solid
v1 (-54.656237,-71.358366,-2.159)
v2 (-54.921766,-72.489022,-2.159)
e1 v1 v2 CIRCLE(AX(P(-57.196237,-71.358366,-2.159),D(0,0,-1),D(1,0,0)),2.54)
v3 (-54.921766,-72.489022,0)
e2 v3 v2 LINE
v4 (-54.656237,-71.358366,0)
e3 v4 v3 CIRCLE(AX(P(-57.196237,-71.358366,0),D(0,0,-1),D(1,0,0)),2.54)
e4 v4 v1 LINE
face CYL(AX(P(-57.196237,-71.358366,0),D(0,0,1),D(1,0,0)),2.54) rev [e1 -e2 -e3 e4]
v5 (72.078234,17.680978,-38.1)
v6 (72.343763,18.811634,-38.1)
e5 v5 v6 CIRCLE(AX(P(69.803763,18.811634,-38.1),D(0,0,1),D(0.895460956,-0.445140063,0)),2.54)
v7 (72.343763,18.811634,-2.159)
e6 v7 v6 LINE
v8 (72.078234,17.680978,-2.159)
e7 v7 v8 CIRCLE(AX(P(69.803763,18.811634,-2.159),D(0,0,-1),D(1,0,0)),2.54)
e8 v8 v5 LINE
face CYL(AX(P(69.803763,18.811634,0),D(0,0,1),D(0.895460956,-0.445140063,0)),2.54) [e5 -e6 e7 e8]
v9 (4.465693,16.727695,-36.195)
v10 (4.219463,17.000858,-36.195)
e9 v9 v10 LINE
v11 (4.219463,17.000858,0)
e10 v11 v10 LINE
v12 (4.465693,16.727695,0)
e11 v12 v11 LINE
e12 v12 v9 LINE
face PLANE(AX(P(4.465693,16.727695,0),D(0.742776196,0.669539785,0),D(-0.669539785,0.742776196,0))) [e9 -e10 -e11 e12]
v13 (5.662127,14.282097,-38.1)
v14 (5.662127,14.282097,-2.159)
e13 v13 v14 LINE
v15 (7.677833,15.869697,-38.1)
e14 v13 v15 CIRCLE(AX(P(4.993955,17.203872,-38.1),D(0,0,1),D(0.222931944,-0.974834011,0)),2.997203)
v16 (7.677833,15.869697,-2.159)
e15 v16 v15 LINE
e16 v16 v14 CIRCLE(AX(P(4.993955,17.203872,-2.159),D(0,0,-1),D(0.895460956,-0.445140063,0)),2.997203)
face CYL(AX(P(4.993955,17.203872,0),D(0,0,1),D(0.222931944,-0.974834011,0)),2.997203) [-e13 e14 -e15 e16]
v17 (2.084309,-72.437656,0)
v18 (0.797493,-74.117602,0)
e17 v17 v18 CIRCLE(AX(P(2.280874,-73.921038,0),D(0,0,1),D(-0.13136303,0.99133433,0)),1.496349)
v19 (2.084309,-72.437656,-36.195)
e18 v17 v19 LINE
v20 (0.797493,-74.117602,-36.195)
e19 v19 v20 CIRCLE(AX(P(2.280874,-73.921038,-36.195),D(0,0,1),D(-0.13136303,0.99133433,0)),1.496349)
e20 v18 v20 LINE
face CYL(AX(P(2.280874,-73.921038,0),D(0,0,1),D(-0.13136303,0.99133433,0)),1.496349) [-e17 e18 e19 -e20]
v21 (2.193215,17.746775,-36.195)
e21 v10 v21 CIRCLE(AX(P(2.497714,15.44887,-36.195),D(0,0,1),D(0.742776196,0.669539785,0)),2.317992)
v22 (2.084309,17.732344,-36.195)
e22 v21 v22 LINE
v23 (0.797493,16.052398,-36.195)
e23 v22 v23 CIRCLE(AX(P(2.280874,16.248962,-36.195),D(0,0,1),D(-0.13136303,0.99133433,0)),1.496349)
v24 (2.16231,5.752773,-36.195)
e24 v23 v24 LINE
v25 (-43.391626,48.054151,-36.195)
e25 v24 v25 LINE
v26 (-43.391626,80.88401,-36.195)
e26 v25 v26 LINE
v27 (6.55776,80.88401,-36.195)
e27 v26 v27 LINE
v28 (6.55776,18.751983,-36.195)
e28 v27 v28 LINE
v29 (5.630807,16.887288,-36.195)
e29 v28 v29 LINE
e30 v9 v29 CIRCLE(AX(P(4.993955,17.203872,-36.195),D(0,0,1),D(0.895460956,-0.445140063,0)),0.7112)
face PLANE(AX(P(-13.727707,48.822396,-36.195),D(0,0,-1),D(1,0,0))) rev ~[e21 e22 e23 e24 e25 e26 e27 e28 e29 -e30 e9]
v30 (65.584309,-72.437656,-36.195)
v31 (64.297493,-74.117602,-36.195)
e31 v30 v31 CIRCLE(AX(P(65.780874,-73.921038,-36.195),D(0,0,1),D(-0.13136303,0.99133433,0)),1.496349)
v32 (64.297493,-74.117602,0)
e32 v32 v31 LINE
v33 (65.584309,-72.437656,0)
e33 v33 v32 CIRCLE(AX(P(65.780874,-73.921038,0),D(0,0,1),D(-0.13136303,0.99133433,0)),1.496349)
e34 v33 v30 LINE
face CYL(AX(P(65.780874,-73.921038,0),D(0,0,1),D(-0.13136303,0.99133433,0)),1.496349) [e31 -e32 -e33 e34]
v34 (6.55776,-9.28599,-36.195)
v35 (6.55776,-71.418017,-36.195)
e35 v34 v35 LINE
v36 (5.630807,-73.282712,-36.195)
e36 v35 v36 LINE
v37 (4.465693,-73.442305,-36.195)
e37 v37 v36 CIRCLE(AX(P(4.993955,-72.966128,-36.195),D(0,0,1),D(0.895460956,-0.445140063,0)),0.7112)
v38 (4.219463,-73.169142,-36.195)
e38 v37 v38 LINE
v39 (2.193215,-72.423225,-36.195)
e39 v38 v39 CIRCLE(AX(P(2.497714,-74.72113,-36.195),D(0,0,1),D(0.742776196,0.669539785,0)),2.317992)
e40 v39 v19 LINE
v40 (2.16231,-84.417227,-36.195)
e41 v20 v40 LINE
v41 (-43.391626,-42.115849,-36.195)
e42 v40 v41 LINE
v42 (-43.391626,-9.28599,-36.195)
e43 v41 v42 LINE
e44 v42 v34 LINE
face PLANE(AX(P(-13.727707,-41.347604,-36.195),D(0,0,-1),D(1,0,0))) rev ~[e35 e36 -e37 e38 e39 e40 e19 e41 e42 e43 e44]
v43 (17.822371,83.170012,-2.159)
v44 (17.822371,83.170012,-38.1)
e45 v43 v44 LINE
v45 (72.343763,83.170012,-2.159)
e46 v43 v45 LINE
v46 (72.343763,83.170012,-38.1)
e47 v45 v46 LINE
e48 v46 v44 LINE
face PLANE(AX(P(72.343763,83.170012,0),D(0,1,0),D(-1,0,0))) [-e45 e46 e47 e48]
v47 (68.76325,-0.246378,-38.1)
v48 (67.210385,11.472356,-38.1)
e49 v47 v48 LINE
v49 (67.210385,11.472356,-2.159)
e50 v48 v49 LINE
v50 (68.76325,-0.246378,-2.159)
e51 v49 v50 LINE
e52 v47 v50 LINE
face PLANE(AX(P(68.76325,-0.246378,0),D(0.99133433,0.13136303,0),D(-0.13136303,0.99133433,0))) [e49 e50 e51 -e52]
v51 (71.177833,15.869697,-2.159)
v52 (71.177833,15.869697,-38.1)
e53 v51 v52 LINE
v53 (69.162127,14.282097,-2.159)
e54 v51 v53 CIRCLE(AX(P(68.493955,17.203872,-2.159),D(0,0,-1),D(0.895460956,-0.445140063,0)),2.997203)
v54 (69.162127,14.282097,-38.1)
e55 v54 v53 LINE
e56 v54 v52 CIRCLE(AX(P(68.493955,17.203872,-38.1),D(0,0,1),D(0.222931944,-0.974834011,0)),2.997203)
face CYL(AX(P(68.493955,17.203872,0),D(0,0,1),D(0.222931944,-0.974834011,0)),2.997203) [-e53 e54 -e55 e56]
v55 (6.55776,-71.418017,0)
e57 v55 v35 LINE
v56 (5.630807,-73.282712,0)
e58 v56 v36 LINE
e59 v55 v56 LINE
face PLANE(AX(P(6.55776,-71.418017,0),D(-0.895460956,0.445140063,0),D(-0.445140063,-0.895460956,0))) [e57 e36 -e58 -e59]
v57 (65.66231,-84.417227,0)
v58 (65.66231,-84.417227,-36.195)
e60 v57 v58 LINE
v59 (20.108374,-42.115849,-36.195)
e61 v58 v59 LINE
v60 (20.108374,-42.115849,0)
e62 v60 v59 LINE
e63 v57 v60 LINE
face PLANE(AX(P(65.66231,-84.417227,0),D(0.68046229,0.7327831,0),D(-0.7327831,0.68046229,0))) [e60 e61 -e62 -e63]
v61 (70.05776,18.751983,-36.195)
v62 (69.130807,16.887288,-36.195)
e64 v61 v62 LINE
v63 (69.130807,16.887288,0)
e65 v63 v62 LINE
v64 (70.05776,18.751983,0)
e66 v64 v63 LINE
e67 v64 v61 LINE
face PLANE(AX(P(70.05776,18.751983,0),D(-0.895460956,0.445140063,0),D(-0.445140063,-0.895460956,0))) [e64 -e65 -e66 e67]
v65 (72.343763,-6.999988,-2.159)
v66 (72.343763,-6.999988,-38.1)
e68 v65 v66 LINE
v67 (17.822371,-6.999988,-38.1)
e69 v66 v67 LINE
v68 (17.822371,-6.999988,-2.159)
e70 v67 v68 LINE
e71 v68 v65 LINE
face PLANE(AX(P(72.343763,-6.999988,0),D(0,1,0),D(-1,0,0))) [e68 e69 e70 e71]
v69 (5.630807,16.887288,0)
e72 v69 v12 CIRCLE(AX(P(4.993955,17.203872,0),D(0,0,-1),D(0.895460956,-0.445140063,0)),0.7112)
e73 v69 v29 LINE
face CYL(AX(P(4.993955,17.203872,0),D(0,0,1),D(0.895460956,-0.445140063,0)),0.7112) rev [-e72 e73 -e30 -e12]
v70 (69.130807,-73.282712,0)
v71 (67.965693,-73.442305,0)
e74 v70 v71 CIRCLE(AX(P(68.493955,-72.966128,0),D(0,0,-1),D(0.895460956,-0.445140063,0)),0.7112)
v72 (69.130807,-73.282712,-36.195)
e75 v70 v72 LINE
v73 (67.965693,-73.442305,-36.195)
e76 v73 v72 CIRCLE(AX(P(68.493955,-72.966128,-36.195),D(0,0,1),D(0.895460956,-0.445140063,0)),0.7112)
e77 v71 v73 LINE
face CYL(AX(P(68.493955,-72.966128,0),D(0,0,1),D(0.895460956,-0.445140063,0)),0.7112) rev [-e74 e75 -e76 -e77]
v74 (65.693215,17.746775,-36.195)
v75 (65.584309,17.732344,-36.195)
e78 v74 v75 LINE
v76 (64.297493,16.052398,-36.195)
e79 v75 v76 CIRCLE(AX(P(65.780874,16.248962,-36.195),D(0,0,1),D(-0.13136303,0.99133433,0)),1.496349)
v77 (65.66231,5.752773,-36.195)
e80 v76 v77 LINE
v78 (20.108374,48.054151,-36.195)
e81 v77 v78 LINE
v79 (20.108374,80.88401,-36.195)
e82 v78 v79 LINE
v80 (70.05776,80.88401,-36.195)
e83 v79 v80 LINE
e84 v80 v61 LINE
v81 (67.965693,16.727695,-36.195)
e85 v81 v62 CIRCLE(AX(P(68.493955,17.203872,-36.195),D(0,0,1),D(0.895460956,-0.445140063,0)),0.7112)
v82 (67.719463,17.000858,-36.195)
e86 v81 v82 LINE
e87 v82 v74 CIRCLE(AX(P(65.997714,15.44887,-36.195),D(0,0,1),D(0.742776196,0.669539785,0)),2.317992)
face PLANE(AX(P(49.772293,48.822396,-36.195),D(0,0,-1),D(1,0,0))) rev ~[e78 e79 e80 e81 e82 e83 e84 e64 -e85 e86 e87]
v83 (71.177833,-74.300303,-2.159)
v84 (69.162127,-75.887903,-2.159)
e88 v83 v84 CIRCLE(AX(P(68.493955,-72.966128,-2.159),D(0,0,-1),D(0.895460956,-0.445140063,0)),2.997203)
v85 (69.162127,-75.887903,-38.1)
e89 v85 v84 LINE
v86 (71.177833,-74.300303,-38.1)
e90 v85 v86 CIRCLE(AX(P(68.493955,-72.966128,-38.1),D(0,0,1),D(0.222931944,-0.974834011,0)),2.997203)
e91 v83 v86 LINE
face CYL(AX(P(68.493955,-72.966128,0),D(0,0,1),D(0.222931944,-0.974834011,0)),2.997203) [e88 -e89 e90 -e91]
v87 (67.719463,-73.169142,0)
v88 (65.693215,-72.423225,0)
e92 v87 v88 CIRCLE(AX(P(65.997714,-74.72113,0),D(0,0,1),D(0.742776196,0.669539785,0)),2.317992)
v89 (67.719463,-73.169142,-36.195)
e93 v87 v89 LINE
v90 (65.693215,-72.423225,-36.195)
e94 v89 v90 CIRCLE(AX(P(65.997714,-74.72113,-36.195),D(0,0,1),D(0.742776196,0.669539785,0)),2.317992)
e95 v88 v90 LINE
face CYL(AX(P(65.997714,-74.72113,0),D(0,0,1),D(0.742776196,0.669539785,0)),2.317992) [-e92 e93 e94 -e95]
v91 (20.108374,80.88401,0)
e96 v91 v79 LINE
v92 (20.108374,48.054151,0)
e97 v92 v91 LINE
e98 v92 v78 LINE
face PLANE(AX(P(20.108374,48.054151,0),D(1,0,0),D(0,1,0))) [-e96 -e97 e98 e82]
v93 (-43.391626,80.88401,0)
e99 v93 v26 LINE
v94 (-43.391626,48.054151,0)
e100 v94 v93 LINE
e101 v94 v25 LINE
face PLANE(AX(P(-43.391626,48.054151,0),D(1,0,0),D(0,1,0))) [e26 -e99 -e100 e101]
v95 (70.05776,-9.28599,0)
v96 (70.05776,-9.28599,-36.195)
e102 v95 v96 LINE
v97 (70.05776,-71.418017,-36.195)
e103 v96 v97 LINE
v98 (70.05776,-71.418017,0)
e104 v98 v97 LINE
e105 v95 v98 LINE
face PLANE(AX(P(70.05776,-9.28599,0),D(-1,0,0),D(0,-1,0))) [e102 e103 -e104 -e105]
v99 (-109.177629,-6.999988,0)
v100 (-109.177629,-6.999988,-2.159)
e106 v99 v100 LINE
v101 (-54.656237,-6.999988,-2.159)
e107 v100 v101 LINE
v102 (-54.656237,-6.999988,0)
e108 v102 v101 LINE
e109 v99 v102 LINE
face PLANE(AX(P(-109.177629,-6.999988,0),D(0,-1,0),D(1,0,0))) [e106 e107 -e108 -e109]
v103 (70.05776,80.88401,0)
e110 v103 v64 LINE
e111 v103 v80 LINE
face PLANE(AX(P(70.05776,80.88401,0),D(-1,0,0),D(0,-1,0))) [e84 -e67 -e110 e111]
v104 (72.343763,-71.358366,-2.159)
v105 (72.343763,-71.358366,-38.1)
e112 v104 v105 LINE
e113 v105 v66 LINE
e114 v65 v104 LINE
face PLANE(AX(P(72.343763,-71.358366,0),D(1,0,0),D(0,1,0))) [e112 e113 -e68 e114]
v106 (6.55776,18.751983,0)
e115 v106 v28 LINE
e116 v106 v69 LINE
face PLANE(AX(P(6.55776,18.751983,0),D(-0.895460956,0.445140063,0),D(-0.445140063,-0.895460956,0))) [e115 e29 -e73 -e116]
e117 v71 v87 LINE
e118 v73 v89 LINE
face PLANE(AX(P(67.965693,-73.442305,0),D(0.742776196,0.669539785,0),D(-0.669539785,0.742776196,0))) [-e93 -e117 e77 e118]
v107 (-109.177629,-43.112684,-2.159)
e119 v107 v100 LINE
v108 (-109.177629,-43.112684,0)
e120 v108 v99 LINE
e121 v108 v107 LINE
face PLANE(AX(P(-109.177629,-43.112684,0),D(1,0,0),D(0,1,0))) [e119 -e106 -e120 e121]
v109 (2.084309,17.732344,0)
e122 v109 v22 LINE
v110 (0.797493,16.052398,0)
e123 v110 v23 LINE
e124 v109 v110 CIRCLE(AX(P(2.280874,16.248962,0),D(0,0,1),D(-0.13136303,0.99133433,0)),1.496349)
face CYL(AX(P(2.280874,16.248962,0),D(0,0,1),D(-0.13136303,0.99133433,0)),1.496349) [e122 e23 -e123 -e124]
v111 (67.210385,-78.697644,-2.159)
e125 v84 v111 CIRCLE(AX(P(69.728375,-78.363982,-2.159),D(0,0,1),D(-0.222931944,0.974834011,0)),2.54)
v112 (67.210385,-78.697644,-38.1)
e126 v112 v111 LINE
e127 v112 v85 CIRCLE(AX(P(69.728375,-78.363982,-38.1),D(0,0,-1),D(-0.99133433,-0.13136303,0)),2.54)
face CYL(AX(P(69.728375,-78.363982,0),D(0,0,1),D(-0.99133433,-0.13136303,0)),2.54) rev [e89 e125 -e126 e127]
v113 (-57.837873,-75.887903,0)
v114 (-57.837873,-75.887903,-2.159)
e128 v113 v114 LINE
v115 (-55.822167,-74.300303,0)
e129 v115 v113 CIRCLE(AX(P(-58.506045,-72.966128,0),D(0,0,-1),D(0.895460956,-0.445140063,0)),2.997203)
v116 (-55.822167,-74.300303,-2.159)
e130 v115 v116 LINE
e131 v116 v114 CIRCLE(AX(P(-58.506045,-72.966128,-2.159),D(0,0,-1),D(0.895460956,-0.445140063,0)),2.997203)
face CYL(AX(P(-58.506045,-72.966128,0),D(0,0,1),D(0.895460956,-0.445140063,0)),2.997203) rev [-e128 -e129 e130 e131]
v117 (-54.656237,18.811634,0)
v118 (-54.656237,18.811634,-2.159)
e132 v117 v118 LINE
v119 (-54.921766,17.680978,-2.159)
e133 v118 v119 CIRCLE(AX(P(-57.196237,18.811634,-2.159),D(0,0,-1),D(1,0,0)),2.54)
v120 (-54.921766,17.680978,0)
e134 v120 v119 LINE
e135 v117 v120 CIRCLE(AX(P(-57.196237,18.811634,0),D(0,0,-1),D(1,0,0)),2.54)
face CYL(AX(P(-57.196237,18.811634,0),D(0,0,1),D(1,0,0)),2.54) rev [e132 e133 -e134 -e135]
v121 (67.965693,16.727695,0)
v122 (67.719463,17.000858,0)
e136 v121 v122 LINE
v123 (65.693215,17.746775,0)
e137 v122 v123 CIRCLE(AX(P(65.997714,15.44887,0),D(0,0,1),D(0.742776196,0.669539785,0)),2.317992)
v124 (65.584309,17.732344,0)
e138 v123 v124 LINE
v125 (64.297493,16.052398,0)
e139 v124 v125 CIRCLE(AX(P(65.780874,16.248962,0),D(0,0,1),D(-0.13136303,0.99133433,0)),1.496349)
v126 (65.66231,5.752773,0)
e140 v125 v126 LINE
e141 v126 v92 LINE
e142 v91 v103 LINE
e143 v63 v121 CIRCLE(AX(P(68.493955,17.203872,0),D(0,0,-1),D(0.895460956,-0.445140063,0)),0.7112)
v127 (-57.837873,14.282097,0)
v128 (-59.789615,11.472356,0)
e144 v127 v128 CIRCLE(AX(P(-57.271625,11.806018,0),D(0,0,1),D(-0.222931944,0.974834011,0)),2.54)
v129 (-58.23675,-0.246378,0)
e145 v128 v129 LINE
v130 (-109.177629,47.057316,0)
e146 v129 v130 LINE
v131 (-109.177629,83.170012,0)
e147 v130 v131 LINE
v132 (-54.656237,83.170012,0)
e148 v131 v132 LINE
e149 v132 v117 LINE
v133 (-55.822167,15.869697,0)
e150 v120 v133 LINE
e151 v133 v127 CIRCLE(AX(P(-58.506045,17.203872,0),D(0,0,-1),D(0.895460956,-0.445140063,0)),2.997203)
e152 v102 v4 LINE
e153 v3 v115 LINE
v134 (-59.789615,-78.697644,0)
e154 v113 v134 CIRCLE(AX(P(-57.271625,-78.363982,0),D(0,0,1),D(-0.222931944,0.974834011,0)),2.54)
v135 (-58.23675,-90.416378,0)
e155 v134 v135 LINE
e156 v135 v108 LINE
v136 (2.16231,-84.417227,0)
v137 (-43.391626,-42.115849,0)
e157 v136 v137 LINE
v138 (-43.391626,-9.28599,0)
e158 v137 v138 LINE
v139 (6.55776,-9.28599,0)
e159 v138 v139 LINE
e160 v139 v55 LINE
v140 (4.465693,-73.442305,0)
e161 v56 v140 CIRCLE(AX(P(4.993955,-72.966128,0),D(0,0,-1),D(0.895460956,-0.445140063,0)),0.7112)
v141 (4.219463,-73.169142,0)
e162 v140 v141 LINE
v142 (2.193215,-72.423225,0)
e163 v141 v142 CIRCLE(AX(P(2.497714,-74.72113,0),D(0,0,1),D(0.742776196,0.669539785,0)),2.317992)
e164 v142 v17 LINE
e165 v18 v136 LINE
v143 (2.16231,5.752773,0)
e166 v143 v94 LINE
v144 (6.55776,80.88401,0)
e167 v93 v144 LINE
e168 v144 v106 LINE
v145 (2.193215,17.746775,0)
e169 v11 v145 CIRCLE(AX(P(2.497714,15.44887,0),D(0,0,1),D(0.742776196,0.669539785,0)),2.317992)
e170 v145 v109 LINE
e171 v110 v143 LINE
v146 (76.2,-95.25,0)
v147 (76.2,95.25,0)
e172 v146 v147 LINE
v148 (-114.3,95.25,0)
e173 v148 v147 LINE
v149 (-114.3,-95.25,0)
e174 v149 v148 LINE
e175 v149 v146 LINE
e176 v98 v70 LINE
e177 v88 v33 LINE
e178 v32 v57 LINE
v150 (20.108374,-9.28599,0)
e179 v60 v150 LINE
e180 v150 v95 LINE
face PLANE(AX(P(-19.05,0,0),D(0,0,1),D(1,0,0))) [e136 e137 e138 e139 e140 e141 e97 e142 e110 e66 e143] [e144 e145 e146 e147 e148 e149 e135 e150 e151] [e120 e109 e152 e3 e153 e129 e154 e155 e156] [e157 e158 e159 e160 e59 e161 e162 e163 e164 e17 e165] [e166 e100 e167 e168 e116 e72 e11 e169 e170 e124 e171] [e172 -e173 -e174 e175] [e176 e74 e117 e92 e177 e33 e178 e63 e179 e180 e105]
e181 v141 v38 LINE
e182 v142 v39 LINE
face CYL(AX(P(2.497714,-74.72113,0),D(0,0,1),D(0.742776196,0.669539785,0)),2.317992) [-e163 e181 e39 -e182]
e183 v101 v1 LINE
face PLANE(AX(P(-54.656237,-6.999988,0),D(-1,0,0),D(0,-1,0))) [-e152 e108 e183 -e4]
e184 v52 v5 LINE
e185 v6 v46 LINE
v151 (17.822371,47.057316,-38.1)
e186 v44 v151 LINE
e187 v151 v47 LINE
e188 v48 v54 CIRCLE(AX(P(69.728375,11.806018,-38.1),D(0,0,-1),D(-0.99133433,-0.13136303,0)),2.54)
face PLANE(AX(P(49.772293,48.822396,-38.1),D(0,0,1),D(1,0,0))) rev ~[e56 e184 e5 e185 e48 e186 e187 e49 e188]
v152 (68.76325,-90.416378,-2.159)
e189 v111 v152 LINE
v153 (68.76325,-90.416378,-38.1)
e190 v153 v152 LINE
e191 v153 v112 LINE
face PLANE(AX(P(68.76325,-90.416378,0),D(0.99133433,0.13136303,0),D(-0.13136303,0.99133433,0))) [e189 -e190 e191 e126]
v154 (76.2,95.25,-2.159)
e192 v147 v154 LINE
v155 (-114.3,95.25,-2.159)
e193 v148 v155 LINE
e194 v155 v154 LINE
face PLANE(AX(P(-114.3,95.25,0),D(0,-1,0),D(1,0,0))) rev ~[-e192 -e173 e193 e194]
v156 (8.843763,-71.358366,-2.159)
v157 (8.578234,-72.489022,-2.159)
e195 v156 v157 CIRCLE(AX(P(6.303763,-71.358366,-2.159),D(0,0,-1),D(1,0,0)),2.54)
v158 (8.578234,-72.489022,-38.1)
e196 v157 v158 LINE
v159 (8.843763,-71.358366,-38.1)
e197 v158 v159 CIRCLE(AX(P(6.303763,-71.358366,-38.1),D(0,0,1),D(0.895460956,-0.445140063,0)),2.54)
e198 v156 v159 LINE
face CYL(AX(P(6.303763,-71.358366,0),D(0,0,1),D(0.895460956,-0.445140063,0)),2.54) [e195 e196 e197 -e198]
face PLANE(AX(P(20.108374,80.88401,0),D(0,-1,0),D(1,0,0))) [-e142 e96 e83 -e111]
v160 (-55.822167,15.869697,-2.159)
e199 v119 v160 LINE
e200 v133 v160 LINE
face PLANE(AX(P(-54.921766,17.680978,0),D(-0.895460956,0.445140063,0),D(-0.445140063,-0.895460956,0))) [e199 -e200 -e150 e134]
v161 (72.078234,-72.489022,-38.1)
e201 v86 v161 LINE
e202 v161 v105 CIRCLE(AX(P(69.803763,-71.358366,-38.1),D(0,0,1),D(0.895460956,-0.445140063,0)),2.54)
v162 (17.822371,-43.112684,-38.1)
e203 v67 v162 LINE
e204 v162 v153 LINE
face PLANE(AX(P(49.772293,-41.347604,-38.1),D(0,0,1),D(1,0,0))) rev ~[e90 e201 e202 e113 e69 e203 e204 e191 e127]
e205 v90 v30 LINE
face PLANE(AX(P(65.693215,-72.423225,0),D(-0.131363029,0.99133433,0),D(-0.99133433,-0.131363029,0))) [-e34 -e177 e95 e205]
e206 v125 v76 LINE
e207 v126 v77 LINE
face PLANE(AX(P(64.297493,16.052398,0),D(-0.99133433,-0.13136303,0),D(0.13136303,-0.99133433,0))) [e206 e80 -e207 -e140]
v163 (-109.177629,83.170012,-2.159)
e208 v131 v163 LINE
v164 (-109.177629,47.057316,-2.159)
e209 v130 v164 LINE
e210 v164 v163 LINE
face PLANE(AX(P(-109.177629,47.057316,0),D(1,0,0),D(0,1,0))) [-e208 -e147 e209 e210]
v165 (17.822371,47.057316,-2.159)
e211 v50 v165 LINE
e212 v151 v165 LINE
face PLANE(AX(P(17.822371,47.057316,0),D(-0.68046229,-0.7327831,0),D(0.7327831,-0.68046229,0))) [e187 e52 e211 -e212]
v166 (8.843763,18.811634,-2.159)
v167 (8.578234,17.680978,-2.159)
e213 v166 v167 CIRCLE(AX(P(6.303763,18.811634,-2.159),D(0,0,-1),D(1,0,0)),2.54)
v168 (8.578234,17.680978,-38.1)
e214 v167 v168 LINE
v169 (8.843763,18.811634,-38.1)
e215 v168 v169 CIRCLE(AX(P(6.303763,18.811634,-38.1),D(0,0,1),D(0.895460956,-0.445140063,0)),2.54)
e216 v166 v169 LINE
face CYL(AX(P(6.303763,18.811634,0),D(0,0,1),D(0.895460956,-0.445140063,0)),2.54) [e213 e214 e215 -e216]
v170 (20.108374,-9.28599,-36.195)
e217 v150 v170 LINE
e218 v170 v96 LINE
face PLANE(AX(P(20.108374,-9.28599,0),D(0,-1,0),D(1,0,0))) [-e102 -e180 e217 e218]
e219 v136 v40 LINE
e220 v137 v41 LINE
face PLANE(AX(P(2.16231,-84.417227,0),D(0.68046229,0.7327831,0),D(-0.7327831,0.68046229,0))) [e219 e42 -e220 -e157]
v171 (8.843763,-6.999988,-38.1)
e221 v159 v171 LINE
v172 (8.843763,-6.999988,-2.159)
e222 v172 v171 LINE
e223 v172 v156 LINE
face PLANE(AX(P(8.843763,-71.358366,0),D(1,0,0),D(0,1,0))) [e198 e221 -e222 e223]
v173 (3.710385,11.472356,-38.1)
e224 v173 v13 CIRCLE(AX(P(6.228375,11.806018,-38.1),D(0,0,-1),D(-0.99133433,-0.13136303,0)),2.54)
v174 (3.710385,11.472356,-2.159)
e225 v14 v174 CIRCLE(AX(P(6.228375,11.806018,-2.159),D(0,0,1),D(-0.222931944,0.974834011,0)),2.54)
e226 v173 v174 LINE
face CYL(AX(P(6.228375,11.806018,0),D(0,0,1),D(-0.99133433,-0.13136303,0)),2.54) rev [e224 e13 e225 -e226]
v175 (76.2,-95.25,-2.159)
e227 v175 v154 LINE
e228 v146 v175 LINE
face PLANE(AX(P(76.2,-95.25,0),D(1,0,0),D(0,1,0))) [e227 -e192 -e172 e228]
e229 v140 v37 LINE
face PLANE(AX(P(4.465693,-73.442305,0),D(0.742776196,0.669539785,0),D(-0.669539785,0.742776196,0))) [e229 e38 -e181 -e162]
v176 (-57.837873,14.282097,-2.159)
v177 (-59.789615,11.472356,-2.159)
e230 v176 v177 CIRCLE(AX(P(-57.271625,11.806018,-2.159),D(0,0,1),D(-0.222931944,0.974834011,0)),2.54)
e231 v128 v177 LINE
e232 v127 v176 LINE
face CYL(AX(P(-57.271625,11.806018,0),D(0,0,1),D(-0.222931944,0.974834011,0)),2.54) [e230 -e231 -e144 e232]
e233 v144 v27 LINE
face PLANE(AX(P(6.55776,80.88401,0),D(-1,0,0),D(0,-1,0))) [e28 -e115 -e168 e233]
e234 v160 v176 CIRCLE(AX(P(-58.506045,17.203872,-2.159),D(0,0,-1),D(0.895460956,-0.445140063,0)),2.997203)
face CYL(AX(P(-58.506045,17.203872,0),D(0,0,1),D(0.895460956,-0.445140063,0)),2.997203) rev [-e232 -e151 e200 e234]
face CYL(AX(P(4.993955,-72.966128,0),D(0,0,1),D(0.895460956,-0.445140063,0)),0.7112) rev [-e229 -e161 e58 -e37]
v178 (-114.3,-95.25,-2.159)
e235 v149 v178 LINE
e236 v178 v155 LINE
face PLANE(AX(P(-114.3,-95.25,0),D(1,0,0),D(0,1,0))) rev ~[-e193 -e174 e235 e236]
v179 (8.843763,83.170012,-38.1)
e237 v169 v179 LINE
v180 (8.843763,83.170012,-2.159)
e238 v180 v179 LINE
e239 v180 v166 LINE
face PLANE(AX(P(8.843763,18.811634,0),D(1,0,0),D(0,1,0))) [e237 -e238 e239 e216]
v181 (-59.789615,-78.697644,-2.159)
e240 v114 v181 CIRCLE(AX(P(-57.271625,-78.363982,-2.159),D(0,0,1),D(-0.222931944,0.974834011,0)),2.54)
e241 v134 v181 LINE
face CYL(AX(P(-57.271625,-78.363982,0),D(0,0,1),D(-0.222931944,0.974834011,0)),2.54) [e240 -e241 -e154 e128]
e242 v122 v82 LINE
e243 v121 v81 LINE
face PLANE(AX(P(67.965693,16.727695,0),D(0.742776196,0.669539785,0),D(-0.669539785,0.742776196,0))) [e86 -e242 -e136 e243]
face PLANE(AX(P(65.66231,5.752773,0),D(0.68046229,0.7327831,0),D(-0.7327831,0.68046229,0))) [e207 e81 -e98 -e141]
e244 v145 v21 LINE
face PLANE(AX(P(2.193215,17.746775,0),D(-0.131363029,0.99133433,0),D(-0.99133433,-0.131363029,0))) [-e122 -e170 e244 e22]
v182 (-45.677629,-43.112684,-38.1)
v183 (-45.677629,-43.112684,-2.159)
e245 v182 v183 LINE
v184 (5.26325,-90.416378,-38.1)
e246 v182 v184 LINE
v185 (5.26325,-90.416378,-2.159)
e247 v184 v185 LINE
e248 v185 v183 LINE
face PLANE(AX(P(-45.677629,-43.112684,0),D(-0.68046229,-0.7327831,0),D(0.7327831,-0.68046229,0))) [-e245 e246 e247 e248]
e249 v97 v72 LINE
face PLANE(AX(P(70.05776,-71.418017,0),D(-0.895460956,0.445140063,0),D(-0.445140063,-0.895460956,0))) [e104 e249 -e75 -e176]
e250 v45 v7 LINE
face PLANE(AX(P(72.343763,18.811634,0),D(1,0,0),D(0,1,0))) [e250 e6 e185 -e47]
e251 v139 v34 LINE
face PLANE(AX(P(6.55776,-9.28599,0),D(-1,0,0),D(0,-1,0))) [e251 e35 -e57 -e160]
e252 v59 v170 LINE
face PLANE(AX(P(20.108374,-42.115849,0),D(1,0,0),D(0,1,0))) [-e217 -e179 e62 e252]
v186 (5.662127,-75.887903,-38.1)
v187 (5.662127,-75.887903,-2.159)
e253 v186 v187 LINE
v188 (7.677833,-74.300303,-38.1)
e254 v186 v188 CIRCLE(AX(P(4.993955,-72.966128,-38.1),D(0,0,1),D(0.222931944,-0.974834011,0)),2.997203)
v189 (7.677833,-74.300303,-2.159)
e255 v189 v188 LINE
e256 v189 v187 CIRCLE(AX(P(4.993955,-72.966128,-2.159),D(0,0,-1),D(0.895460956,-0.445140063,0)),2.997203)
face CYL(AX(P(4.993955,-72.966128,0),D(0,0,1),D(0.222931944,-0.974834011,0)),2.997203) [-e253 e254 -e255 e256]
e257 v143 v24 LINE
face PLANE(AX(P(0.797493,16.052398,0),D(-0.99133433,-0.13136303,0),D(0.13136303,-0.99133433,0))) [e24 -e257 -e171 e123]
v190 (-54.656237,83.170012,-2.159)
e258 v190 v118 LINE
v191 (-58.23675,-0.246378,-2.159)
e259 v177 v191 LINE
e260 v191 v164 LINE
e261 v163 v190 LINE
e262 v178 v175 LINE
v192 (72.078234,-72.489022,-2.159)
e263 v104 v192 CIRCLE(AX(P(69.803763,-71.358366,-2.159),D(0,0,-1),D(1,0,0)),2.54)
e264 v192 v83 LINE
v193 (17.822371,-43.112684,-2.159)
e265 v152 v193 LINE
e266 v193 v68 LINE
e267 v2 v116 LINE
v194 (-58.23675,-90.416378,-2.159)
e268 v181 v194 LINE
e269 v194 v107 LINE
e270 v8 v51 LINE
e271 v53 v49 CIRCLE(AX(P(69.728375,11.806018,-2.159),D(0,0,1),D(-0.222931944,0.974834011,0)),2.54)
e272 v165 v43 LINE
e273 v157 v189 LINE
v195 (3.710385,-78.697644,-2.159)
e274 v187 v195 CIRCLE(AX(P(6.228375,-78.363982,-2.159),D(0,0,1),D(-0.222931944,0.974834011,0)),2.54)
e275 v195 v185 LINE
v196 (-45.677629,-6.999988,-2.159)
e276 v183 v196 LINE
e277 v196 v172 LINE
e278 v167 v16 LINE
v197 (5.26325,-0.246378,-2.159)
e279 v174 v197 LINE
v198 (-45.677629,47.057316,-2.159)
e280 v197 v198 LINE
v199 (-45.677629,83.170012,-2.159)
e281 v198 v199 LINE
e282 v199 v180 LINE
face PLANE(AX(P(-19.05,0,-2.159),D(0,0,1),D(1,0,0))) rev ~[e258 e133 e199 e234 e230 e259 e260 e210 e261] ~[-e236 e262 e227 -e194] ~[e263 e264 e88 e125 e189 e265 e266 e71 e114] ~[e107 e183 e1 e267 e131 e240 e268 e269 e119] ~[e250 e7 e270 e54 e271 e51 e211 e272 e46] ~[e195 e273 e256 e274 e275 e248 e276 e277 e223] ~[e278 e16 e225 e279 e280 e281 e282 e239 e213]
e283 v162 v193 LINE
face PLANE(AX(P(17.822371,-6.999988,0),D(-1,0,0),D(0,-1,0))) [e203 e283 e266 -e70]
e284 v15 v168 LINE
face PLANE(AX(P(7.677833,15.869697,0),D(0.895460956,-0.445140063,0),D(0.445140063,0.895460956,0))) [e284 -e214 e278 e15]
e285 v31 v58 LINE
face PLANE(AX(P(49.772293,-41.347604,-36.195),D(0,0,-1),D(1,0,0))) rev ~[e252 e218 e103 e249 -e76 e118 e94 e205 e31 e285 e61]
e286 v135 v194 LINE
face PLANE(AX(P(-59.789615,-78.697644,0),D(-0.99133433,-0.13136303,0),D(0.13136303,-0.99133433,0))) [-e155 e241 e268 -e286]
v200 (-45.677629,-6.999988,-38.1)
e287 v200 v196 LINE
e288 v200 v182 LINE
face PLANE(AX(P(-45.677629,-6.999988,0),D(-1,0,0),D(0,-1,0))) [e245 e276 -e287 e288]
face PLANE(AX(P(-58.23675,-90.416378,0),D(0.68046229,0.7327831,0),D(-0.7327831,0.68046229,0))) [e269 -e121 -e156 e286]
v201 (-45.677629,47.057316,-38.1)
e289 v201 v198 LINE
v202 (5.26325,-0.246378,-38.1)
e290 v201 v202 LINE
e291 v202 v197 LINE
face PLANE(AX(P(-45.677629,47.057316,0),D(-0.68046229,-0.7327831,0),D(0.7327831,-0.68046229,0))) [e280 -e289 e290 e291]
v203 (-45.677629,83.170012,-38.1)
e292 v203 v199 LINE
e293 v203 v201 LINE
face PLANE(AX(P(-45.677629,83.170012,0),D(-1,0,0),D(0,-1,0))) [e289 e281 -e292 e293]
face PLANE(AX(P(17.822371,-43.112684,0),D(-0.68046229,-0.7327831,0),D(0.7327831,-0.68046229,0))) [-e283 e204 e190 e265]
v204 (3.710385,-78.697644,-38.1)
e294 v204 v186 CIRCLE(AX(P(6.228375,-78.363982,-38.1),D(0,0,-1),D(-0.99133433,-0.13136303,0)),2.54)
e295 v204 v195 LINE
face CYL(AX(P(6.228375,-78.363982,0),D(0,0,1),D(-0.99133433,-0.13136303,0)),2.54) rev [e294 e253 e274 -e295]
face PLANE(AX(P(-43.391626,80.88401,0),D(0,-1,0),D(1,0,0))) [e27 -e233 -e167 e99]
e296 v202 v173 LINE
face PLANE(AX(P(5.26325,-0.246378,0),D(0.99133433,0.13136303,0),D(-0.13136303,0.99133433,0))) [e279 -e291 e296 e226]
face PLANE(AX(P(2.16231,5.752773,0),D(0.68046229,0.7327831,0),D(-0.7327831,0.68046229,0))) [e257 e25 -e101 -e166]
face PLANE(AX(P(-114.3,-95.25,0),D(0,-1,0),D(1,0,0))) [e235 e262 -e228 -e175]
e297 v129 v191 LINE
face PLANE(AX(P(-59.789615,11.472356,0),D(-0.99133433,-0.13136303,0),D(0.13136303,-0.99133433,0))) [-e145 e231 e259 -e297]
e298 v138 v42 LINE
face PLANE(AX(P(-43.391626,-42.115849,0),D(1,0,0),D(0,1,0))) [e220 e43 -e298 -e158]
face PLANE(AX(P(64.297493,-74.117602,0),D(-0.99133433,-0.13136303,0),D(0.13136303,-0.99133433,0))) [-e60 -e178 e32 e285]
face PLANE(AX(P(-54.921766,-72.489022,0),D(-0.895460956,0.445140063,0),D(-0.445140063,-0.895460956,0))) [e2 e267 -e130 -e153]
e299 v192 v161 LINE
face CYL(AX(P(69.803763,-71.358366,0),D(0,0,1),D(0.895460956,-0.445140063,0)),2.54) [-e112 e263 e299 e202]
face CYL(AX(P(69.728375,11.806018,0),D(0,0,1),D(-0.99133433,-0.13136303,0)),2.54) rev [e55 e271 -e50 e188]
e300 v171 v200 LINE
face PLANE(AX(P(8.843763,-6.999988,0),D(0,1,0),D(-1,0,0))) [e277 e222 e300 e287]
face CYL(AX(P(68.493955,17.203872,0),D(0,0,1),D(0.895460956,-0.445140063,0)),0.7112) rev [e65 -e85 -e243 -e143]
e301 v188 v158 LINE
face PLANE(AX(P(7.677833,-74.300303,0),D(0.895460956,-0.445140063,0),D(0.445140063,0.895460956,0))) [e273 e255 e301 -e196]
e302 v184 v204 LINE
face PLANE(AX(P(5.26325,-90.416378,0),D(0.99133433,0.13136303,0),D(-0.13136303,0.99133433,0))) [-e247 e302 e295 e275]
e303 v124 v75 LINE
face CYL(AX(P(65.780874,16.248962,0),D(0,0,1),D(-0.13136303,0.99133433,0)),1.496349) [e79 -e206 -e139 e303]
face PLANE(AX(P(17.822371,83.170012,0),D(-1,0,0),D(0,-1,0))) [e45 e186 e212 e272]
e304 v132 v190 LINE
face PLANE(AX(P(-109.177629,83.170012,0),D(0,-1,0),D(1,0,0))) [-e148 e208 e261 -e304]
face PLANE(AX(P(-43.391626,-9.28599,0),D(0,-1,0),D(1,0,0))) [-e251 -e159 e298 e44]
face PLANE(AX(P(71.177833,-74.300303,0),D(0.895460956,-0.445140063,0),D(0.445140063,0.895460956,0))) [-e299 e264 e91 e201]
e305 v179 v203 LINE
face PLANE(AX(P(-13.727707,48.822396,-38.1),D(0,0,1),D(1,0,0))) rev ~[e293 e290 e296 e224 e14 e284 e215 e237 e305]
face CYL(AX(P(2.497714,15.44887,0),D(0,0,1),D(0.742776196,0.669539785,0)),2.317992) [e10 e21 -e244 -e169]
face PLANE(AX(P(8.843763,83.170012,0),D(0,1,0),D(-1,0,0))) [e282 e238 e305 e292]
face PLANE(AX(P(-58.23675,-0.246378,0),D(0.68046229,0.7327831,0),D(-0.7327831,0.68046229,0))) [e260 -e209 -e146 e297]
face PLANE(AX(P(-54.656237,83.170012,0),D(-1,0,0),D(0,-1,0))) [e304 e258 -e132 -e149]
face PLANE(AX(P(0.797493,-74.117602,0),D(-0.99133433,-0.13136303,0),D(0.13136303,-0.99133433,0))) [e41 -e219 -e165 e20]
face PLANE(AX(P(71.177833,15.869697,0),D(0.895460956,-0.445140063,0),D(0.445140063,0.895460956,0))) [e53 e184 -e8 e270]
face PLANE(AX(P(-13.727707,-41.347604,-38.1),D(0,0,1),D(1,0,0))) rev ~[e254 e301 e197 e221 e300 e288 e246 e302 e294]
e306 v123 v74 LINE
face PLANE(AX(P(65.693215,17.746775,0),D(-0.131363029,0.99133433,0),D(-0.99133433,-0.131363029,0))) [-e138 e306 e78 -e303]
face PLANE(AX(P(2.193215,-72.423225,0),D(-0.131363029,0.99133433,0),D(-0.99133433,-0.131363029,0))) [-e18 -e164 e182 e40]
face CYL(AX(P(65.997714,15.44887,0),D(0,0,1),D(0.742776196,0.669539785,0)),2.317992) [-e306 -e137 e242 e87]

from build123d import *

# Parameters (mm, degrees)
F1_DEPTH = 38.1
F0_W     = 190.5
F0_H     = 190.5
F2_DEPTH = 2.159
F5_DEPTH = 1.905


with BuildPart() as f1:
    # F0 (on Top) → F1 (new body)
    with BuildSketch(Plane.XY):
        with BuildLine():
            ThreePointArc((72.0782338403, -72.4890221543), (72.2764898364, -71.9390746235), (72.3437630109, -71.358366395))
            Line((72.3437630109, -71.358366395), (72.3437630109, -6.9999878642))
            Line((72.3437630109, -6.9999878642), (17.8223712996, -6.9999878642))
            Line((17.8223712996, -6.9999878642), (17.8223712996, -43.112684))
            Line((17.8223712996, -43.112684), (68.7632503296, -90.4163775524))
            Line((68.7632503296, -90.4163775524), (67.2103853279, -78.6976437184))
            ThreePointArc((67.2103853279, -78.6976437184), (67.642280367, -76.9149091055), (69.1621273878, -75.8879032349))
            ThreePointArc((69.1621273878, -75.8879032349), (70.34845738, -75.3207077832), (71.1778330484, -74.3003031911))
            Line((71.1778330484, -74.3003031911), (72.0782338403, -72.4890221543))
        make_face()
        with BuildLine():
            Line((65.6623095274, -84.4172274415), (20.1083738357, -42.115848763))
            Line((20.1083738357, -42.115848763), (20.1083738357, -9.2859904003))
            Line((20.1083738357, -9.2859904003), (70.0577604748, -9.2859904003))
            Line((70.0577604748, -9.2859904003), (70.0577604748, -71.418016501))
            Line((70.0577604748, -71.418016501), (69.1308070309, -73.2827118787))
            ThreePointArc((69.1308070309, -73.2827118787), (68.5904715317, -73.6707487579), (67.9656927684, -73.4423049611))
            Line((67.9656927684, -73.4423049611), (67.7194629988, -73.1691417889))
            ThreePointArc((67.7194629988, -73.1691417889), (66.7984934635, -72.5458506783), (65.6932154198, -72.4232246633))
            Line((65.6932154198, -72.4232246633), (65.5843092936, -72.4376559588))
            ThreePointArc((65.5843092936, -72.4376559588), (64.5929725961, -73.0111207367), (64.297492528, -74.1176024711))
            Line((64.297492528, -74.1176024711), (65.6623095274, -84.4172274415))
        make_face(mode=Mode.SUBTRACT)
    extrude(amount=-F1_DEPTH)



with BuildPart() as f1b:
    # F0 (on Top) → F1, piece 2 (new body)
    with BuildSketch(Plane.XY):
        with BuildLine():
            Line((17.8223712996, 83.1700121358), (17.8223712996, 47.057316))
            Line((17.8223712996, 47.057316), (68.7632503296, -0.2463775524))
            Line((68.7632503296, -0.2463775524), (67.2103853279, 11.4723562816))
            ThreePointArc((67.2103853279, 11.4723562816), (67.642280367, 13.2550908945), (69.1621273878, 14.2820967651))
            ThreePointArc((69.1621273878, 14.2820967651), (70.34845738, 14.8492922168), (71.1778330484, 15.8696968089))
            Line((71.1778330484, 15.8696968089), (72.0782338403, 17.6809778457))
            ThreePointArc((72.0782338403, 17.6809778457), (72.2764898364, 18.2309253765), (72.3437630109, 18.811633605))
            Line((72.3437630109, 18.811633605), (72.3437630109, 83.1700121358))
            Line((72.3437630109, 83.1700121358), (17.8223712996, 83.1700121358))
        make_face()
        with BuildLine():
            Line((20.1083738357, 48.054151237), (20.1083738357, 80.8840095997))
            Line((20.1083738357, 80.8840095997), (70.0577604748, 80.8840095997))
            Line((70.0577604748, 80.8840095997), (70.0577604748, 18.751983499))
            Line((70.0577604748, 18.751983499), (69.1308070309, 16.8872881213))
            ThreePointArc((69.1308070309, 16.8872881213), (68.5904715317, 16.4992512421), (67.9656927684, 16.7276950389))
            Line((67.9656927684, 16.7276950389), (67.7194629988, 17.0008582111))
            ThreePointArc((67.7194629988, 17.0008582111), (66.7984934635, 17.6241493217), (65.6932154198, 17.7467753367))
            Line((65.6932154198, 17.7467753367), (65.5843092936, 17.7323440412))
            ThreePointArc((65.5843092936, 17.7323440412), (64.5929725961, 17.1588792633), (64.297492528, 16.0523975289))
            Line((64.297492528, 16.0523975289), (65.6623095274, 5.7527725585))
            Line((65.6623095274, 5.7527725585), (20.1083738357, 48.054151237))
        make_face(mode=Mode.SUBTRACT)
    extrude(amount=-F1_DEPTH)


with BuildPart() as f1c:
    # F0 (on Top) → F1, piece 3 (new body)
    with BuildSketch(Plane.XY):
        with BuildLine():
            ThreePointArc((8.5782338403, 17.6809778457), (8.7764898364, 18.2309253765), (8.8437630109, 18.811633605))
            Line((8.8437630109, 18.811633605), (8.8437630109, 83.1700121358))
            Line((8.8437630109, 83.1700121358), (-45.6776287004, 83.1700121358))
            Line((-45.6776287004, 83.1700121358), (-45.6776287004, 47.057316))
            Line((-45.6776287004, 47.057316), (5.2632503296, -0.2463775524))
            Line((5.2632503296, -0.2463775524), (3.7103853279, 11.4723562816))
            ThreePointArc((3.7103853279, 11.4723562816), (4.142280367, 13.2550908945), (5.6621273878, 14.2820967651))
            ThreePointArc((5.6621273878, 14.2820967651), (6.84845738, 14.8492922168), (7.6778330484, 15.8696968089))
            Line((7.6778330484, 15.8696968089), (8.5782338403, 17.6809778457))
        make_face()
        with BuildLine():
            Line((2.1623095274, 5.7527725585), (-43.3916261643, 48.054151237))
            Line((-43.3916261643, 48.054151237), (-43.3916261643, 80.8840095997))
            Line((-43.3916261643, 80.8840095997), (6.5577604748, 80.8840095997))
            Line((6.5577604748, 80.8840095997), (6.5577604748, 18.751983499))
            Line((6.5577604748, 18.751983499), (5.6308070309, 16.8872881213))
            ThreePointArc((5.6308070309, 16.8872881213), (5.0904715317, 16.4992512421), (4.4656927684, 16.7276950389))
            Line((4.4656927684, 16.7276950389), (4.2194629988, 17.0008582111))
            ThreePointArc((4.2194629988, 17.0008582111), (3.2984934635, 17.6241493217), (2.1932154198, 17.7467753367))
            Line((2.1932154198, 17.7467753367), (2.0843092936, 17.7323440412))
            ThreePointArc((2.0843092936, 17.7323440412), (1.0929725961, 17.1588792633), (0.797492528, 16.0523975289))
            Line((0.797492528, 16.0523975289), (2.1623095274, 5.7527725585))
        make_face(mode=Mode.SUBTRACT)
    extrude(amount=-F1_DEPTH)


with BuildPart() as f1d:
    # F0 (on Top) → F1, piece 4 (new body)
    with BuildSketch(Plane.XY):
        with BuildLine():
            ThreePointArc((8.5782338403, -72.4890221543), (8.7764898364, -71.9390746235), (8.8437630109, -71.358366395))
            Line((8.8437630109, -71.358366395), (8.8437630109, -6.9999878642))
            Line((8.8437630109, -6.9999878642), (-45.6776287004, -6.9999878642))
            Line((-45.6776287004, -6.9999878642), (-45.6776287004, -43.112684))
            Line((-45.6776287004, -43.112684), (5.2632503296, -90.4163775524))
            Line((5.2632503296, -90.4163775524), (3.7103853279, -78.6976437184))
            ThreePointArc((3.7103853279, -78.6976437184), (4.142280367, -76.9149091055), (5.6621273878, -75.8879032349))
            ThreePointArc((5.6621273878, -75.8879032349), (6.84845738, -75.3207077832), (7.6778330484, -74.3003031911))
            Line((7.6778330484, -74.3003031911), (8.5782338403, -72.4890221543))
        make_face()
        with BuildLine():
            Line((2.1623095274, -84.4172274415), (-43.3916261643, -42.115848763))
            Line((-43.3916261643, -42.115848763), (-43.3916261643, -9.2859904003))
            Line((-43.3916261643, -9.2859904003), (6.5577604748, -9.2859904003))
            Line((6.5577604748, -9.2859904003), (6.5577604748, -71.418016501))
            Line((6.5577604748, -71.418016501), (5.6308070309, -73.2827118787))
            ThreePointArc((5.6308070309, -73.2827118787), (5.0904715317, -73.6707487579), (4.4656927684, -73.4423049611))
            Line((4.4656927684, -73.4423049611), (4.2194629988, -73.1691417889))
            ThreePointArc((4.2194629988, -73.1691417889), (3.2984934635, -72.5458506783), (2.1932154198, -72.4232246633))
            Line((2.1932154198, -72.4232246633), (2.0843092936, -72.4376559588))
            ThreePointArc((2.0843092936, -72.4376559588), (1.0929725961, -73.0111207367), (0.797492528, -74.1176024711))
            Line((0.797492528, -74.1176024711), (2.1623095274, -84.4172274415))
        make_face(mode=Mode.SUBTRACT)
    extrude(amount=-F1_DEPTH)


with BuildPart() as f1_1:
    add(f1.part)

    add(f1b.part)  # F2 merges F1b

    add(f1c.part)  # F2 merges F1c

    add(f1d.part)  # F2 merges F1d
    # F0 (on Top) → F2 (join)
    with BuildSketch(Plane.XY):
        with Locations((-19.05, 0)):
            Rectangle(F0_W, F0_H)
        with BuildLine():
            Line((-54.6562369891, -6.9999878642), (-54.6562369891, -71.358366395))
            ThreePointArc((-54.6562369891, -71.358366395), (-54.7235101636, -71.9390746235), (-54.9217661597, -72.4890221543))
            Line((-54.9217661597, -72.4890221543), (-55.8221669516, -74.3003031911))
            ThreePointArc((-55.8221669516, -74.3003031911), (-56.65154262, -75.3207077832), (-57.8378726122, -75.8879032349))
            ThreePointArc((-57.8378726122, -75.8879032349), (-59.357719633, -76.9149091055), (-59.7896146721, -78.6976437184))
            Line((-59.7896146721, -78.6976437184), (-58.2367496704, -90.4163775524))
            Line((-58.2367496704, -90.4163775524), (-109.1776287004, -43.112684))
            Line((-109.1776287004, -43.112684), (-109.1776287004, -6.9999878642))
            Line((-109.1776287004, -6.9999878642), (-54.6562369891, -6.9999878642))
        make_face(mode=Mode.SUBTRACT)
        with BuildLine():
            Line((8.8437630109, -6.9999878642), (8.8437630109, -71.358366395))
            ThreePointArc((8.8437630109, -71.358366395), (8.7764898364, -71.9390746235), (8.5782338403, -72.4890221543))
            Line((8.5782338403, -72.4890221543), (7.6778330484, -74.3003031911))
            ThreePointArc((7.6778330484, -74.3003031911), (6.84845738, -75.3207077832), (5.6621273878, -75.8879032349))
            ThreePointArc((5.6621273878, -75.8879032349), (4.142280367, -76.9149091055), (3.7103853279, -78.6976437184))
            Line((3.7103853279, -78.6976437184), (5.2632503296, -90.4163775524))
            Line((5.2632503296, -90.4163775524), (-45.6776287004, -43.112684))
            Line((-45.6776287004, -43.112684), (-45.6776287004, -6.9999878642))
            Line((-45.6776287004, -6.9999878642), (8.8437630109, -6.9999878642))
        make_face(mode=Mode.SUBTRACT)
        with BuildLine():
            Line((72.3437630109, -6.9999878642), (72.3437630109, -71.358366395))
            ThreePointArc((72.3437630109, -71.358366395), (72.2764898364, -71.9390746235), (72.0782338403, -72.4890221543))
            Line((72.0782338403, -72.4890221543), (71.1778330484, -74.3003031911))
            ThreePointArc((71.1778330484, -74.3003031911), (70.34845738, -75.3207077832), (69.1621273878, -75.8879032349))
            ThreePointArc((69.1621273878, -75.8879032349), (67.642280367, -76.9149091055), (67.2103853279, -78.6976437184))
            Line((67.2103853279, -78.6976437184), (68.7632503296, -90.4163775524))
            Line((68.7632503296, -90.4163775524), (17.8223712996, -43.112684))
            Line((17.8223712996, -43.112684), (17.8223712996, -6.9999878642))
            Line((17.8223712996, -6.9999878642), (72.3437630109, -6.9999878642))
        make_face(mode=Mode.SUBTRACT)
        with BuildLine():
            Line((-54.6562369891, 83.1700121358), (-54.6562369891, 18.811633605))
            ThreePointArc((-54.6562369891, 18.811633605), (-54.7235101636, 18.2309253765), (-54.9217661597, 17.6809778457))
            Line((-54.9217661597, 17.6809778457), (-55.8221669516, 15.8696968089))
            ThreePointArc((-55.8221669516, 15.8696968089), (-56.65154262, 14.8492922168), (-57.8378726122, 14.2820967651))
            ThreePointArc((-57.8378726122, 14.2820967651), (-59.357719633, 13.2550908945), (-59.7896146721, 11.4723562816))
            Line((-59.7896146721, 11.4723562816), (-58.2367496704, -0.2463775524))
            Line((-58.2367496704, -0.2463775524), (-109.1776287004, 47.057316))
            Line((-109.1776287004, 47.057316), (-109.1776287004, 83.1700121358))
            Line((-109.1776287004, 83.1700121358), (-54.6562369891, 83.1700121358))
        make_face(mode=Mode.SUBTRACT)
        with BuildLine():
            Line((8.8437630109, 83.1700121358), (8.8437630109, 18.811633605))
            ThreePointArc((8.8437630109, 18.811633605), (8.7764898364, 18.2309253765), (8.5782338403, 17.6809778457))
            Line((8.5782338403, 17.6809778457), (7.6778330484, 15.8696968089))
            ThreePointArc((7.6778330484, 15.8696968089), (6.84845738, 14.8492922168), (5.6621273878, 14.2820967651))
            ThreePointArc((5.6621273878, 14.2820967651), (4.142280367, 13.2550908945), (3.7103853279, 11.4723562816))
            Line((3.7103853279, 11.4723562816), (5.2632503296, -0.2463775524))
            Line((5.2632503296, -0.2463775524), (-45.6776287004, 47.057316))
            Line((-45.6776287004, 47.057316), (-45.6776287004, 83.1700121358))
            Line((-45.6776287004, 83.1700121358), (8.8437630109, 83.1700121358))
        make_face(mode=Mode.SUBTRACT)
        with BuildLine():
            Line((68.7632503296, -0.2463775524), (17.8223712996, 47.057316))
            Line((17.8223712996, 47.057316), (17.8223712996, 83.1700121358))
            Line((17.8223712996, 83.1700121358), (72.3437630109, 83.1700121358))
            Line((72.3437630109, 83.1700121358), (72.3437630109, 18.811633605))
            ThreePointArc((72.3437630109, 18.811633605), (72.2764898364, 18.2309253765), (72.0782338403, 17.6809778457))
            Line((72.0782338403, 17.6809778457), (71.1778330484, 15.8696968089))
            ThreePointArc((71.1778330484, 15.8696968089), (70.34845738, 14.8492922168), (69.1621273878, 14.2820967651))
            ThreePointArc((69.1621273878, 14.2820967651), (67.642280367, 13.2550908945), (67.2103853279, 11.4723562816))
            Line((67.2103853279, 11.4723562816), (68.7632503296, -0.2463775524))
        make_face(mode=Mode.SUBTRACT)
    extrude(amount=-F2_DEPTH)

    # F4 (on offset) → F5 (join)
    with BuildSketch(Plane(origin=(0, 0, -38.1), x_dir=(1, 0, 0), z_dir=(0, 0, -1))):
        with BuildLine():
            ThreePointArc((72.3437630109, -18.811633605), (72.2764898364, -18.2309253765), (72.0782338403, -17.6809778457))
            Line((72.0782338403, -17.6809778457), (71.1778330484, -15.8696968089))
            ThreePointArc((71.1778330484, -15.8696968089), (70.34845738, -14.8492922168), (69.1621273878, -14.2820967651))
            ThreePointArc((69.1621273878, -14.2820967651), (67.642280367, -13.2550908945), (67.2103853279, -11.4723562816))
            Line((67.2103853279, -11.4723562816), (68.7632503296, 0.2463775524))
            Line((68.7632503296, 0.2463775524), (17.8223712996, -47.057316))
            Line((17.8223712996, -47.057316), (17.8223712996, -83.1700121358))
            Line((17.8223712996, -83.1700121358), (72.3437630109, -83.1700121358))
            Line((72.3437630109, -83.1700121358), (72.3437630109, -18.811633605))
        make_face()
        with BuildLine():
            ThreePointArc((7.6778330484, -15.8696968089), (6.84845738, -14.8492922168), (5.6621273878, -14.2820967651))
            ThreePointArc((5.6621273878, -14.2820967651), (4.142280367, -13.2550908945), (3.7103853279, -11.4723562816))
            Line((3.7103853279, -11.4723562816), (5.2632503296, 0.2463775524))
            Line((5.2632503296, 0.2463775524), (-45.6776287004, -47.057316))
            Line((-45.6776287004, -47.057316), (-45.6776287004, -83.1700121358))
            Line((-45.6776287004, -83.1700121358), (8.8437630109, -83.1700121358))
            Line((8.8437630109, -83.1700121358), (8.8437630109, -18.811633605))
            ThreePointArc((8.8437630109, -18.811633605), (8.7764898364, -18.2309253765), (8.5782338403, -17.6809778457))
            Line((8.5782338403, -17.6809778457), (7.6778330484, -15.8696968089))
        make_face()
        with BuildLine():
            ThreePointArc((71.1778330484, 74.3003031911), (70.34845738, 75.3207077832), (69.1621273878, 75.8879032349))
            ThreePointArc((69.1621273878, 75.8879032349), (67.642280367, 76.9149091055), (67.2103853279, 78.6976437184))
            Line((67.2103853279, 78.6976437184), (68.7632503296, 90.4163775524))
            Line((68.7632503296, 90.4163775524), (17.8223712996, 43.112684))
            Line((17.8223712996, 43.112684), (17.8223712996, 6.9999878642))
            Line((17.8223712996, 6.9999878642), (72.3437630109, 6.9999878642))
            Line((72.3437630109, 6.9999878642), (72.3437630109, 71.358366395))
            ThreePointArc((72.3437630109, 71.358366395), (72.2764898364, 71.9390746235), (72.0782338403, 72.4890221543))
            Line((72.0782338403, 72.4890221543), (71.1778330484, 74.3003031911))
        make_face()
        with BuildLine():
            ThreePointArc((7.6778330484, 74.3003031911), (6.84845738, 75.3207077832), (5.6621273878, 75.8879032349))
            ThreePointArc((5.6621273878, 75.8879032349), (4.142280367, 76.9149091055), (3.7103853279, 78.6976437184))
            Line((3.7103853279, 78.6976437184), (5.2632503296, 90.4163775524))
            Line((5.2632503296, 90.4163775524), (-45.6776287004, 43.112684))
            Line((-45.6776287004, 43.112684), (-45.6776287004, 6.9999878642))
            Line((-45.6776287004, 6.9999878642), (8.8437630109, 6.9999878642))
            Line((8.8437630109, 6.9999878642), (8.8437630109, 71.358366395))
            ThreePointArc((8.8437630109, 71.358366395), (8.7764898364, 71.9390746235), (8.5782338403, 72.4890221543))
            Line((8.5782338403, 72.4890221543), (7.6778330484, 74.3003031911))
        make_face()
    extrude(amount=-F5_DEPTH)


solid = f1_1.part
